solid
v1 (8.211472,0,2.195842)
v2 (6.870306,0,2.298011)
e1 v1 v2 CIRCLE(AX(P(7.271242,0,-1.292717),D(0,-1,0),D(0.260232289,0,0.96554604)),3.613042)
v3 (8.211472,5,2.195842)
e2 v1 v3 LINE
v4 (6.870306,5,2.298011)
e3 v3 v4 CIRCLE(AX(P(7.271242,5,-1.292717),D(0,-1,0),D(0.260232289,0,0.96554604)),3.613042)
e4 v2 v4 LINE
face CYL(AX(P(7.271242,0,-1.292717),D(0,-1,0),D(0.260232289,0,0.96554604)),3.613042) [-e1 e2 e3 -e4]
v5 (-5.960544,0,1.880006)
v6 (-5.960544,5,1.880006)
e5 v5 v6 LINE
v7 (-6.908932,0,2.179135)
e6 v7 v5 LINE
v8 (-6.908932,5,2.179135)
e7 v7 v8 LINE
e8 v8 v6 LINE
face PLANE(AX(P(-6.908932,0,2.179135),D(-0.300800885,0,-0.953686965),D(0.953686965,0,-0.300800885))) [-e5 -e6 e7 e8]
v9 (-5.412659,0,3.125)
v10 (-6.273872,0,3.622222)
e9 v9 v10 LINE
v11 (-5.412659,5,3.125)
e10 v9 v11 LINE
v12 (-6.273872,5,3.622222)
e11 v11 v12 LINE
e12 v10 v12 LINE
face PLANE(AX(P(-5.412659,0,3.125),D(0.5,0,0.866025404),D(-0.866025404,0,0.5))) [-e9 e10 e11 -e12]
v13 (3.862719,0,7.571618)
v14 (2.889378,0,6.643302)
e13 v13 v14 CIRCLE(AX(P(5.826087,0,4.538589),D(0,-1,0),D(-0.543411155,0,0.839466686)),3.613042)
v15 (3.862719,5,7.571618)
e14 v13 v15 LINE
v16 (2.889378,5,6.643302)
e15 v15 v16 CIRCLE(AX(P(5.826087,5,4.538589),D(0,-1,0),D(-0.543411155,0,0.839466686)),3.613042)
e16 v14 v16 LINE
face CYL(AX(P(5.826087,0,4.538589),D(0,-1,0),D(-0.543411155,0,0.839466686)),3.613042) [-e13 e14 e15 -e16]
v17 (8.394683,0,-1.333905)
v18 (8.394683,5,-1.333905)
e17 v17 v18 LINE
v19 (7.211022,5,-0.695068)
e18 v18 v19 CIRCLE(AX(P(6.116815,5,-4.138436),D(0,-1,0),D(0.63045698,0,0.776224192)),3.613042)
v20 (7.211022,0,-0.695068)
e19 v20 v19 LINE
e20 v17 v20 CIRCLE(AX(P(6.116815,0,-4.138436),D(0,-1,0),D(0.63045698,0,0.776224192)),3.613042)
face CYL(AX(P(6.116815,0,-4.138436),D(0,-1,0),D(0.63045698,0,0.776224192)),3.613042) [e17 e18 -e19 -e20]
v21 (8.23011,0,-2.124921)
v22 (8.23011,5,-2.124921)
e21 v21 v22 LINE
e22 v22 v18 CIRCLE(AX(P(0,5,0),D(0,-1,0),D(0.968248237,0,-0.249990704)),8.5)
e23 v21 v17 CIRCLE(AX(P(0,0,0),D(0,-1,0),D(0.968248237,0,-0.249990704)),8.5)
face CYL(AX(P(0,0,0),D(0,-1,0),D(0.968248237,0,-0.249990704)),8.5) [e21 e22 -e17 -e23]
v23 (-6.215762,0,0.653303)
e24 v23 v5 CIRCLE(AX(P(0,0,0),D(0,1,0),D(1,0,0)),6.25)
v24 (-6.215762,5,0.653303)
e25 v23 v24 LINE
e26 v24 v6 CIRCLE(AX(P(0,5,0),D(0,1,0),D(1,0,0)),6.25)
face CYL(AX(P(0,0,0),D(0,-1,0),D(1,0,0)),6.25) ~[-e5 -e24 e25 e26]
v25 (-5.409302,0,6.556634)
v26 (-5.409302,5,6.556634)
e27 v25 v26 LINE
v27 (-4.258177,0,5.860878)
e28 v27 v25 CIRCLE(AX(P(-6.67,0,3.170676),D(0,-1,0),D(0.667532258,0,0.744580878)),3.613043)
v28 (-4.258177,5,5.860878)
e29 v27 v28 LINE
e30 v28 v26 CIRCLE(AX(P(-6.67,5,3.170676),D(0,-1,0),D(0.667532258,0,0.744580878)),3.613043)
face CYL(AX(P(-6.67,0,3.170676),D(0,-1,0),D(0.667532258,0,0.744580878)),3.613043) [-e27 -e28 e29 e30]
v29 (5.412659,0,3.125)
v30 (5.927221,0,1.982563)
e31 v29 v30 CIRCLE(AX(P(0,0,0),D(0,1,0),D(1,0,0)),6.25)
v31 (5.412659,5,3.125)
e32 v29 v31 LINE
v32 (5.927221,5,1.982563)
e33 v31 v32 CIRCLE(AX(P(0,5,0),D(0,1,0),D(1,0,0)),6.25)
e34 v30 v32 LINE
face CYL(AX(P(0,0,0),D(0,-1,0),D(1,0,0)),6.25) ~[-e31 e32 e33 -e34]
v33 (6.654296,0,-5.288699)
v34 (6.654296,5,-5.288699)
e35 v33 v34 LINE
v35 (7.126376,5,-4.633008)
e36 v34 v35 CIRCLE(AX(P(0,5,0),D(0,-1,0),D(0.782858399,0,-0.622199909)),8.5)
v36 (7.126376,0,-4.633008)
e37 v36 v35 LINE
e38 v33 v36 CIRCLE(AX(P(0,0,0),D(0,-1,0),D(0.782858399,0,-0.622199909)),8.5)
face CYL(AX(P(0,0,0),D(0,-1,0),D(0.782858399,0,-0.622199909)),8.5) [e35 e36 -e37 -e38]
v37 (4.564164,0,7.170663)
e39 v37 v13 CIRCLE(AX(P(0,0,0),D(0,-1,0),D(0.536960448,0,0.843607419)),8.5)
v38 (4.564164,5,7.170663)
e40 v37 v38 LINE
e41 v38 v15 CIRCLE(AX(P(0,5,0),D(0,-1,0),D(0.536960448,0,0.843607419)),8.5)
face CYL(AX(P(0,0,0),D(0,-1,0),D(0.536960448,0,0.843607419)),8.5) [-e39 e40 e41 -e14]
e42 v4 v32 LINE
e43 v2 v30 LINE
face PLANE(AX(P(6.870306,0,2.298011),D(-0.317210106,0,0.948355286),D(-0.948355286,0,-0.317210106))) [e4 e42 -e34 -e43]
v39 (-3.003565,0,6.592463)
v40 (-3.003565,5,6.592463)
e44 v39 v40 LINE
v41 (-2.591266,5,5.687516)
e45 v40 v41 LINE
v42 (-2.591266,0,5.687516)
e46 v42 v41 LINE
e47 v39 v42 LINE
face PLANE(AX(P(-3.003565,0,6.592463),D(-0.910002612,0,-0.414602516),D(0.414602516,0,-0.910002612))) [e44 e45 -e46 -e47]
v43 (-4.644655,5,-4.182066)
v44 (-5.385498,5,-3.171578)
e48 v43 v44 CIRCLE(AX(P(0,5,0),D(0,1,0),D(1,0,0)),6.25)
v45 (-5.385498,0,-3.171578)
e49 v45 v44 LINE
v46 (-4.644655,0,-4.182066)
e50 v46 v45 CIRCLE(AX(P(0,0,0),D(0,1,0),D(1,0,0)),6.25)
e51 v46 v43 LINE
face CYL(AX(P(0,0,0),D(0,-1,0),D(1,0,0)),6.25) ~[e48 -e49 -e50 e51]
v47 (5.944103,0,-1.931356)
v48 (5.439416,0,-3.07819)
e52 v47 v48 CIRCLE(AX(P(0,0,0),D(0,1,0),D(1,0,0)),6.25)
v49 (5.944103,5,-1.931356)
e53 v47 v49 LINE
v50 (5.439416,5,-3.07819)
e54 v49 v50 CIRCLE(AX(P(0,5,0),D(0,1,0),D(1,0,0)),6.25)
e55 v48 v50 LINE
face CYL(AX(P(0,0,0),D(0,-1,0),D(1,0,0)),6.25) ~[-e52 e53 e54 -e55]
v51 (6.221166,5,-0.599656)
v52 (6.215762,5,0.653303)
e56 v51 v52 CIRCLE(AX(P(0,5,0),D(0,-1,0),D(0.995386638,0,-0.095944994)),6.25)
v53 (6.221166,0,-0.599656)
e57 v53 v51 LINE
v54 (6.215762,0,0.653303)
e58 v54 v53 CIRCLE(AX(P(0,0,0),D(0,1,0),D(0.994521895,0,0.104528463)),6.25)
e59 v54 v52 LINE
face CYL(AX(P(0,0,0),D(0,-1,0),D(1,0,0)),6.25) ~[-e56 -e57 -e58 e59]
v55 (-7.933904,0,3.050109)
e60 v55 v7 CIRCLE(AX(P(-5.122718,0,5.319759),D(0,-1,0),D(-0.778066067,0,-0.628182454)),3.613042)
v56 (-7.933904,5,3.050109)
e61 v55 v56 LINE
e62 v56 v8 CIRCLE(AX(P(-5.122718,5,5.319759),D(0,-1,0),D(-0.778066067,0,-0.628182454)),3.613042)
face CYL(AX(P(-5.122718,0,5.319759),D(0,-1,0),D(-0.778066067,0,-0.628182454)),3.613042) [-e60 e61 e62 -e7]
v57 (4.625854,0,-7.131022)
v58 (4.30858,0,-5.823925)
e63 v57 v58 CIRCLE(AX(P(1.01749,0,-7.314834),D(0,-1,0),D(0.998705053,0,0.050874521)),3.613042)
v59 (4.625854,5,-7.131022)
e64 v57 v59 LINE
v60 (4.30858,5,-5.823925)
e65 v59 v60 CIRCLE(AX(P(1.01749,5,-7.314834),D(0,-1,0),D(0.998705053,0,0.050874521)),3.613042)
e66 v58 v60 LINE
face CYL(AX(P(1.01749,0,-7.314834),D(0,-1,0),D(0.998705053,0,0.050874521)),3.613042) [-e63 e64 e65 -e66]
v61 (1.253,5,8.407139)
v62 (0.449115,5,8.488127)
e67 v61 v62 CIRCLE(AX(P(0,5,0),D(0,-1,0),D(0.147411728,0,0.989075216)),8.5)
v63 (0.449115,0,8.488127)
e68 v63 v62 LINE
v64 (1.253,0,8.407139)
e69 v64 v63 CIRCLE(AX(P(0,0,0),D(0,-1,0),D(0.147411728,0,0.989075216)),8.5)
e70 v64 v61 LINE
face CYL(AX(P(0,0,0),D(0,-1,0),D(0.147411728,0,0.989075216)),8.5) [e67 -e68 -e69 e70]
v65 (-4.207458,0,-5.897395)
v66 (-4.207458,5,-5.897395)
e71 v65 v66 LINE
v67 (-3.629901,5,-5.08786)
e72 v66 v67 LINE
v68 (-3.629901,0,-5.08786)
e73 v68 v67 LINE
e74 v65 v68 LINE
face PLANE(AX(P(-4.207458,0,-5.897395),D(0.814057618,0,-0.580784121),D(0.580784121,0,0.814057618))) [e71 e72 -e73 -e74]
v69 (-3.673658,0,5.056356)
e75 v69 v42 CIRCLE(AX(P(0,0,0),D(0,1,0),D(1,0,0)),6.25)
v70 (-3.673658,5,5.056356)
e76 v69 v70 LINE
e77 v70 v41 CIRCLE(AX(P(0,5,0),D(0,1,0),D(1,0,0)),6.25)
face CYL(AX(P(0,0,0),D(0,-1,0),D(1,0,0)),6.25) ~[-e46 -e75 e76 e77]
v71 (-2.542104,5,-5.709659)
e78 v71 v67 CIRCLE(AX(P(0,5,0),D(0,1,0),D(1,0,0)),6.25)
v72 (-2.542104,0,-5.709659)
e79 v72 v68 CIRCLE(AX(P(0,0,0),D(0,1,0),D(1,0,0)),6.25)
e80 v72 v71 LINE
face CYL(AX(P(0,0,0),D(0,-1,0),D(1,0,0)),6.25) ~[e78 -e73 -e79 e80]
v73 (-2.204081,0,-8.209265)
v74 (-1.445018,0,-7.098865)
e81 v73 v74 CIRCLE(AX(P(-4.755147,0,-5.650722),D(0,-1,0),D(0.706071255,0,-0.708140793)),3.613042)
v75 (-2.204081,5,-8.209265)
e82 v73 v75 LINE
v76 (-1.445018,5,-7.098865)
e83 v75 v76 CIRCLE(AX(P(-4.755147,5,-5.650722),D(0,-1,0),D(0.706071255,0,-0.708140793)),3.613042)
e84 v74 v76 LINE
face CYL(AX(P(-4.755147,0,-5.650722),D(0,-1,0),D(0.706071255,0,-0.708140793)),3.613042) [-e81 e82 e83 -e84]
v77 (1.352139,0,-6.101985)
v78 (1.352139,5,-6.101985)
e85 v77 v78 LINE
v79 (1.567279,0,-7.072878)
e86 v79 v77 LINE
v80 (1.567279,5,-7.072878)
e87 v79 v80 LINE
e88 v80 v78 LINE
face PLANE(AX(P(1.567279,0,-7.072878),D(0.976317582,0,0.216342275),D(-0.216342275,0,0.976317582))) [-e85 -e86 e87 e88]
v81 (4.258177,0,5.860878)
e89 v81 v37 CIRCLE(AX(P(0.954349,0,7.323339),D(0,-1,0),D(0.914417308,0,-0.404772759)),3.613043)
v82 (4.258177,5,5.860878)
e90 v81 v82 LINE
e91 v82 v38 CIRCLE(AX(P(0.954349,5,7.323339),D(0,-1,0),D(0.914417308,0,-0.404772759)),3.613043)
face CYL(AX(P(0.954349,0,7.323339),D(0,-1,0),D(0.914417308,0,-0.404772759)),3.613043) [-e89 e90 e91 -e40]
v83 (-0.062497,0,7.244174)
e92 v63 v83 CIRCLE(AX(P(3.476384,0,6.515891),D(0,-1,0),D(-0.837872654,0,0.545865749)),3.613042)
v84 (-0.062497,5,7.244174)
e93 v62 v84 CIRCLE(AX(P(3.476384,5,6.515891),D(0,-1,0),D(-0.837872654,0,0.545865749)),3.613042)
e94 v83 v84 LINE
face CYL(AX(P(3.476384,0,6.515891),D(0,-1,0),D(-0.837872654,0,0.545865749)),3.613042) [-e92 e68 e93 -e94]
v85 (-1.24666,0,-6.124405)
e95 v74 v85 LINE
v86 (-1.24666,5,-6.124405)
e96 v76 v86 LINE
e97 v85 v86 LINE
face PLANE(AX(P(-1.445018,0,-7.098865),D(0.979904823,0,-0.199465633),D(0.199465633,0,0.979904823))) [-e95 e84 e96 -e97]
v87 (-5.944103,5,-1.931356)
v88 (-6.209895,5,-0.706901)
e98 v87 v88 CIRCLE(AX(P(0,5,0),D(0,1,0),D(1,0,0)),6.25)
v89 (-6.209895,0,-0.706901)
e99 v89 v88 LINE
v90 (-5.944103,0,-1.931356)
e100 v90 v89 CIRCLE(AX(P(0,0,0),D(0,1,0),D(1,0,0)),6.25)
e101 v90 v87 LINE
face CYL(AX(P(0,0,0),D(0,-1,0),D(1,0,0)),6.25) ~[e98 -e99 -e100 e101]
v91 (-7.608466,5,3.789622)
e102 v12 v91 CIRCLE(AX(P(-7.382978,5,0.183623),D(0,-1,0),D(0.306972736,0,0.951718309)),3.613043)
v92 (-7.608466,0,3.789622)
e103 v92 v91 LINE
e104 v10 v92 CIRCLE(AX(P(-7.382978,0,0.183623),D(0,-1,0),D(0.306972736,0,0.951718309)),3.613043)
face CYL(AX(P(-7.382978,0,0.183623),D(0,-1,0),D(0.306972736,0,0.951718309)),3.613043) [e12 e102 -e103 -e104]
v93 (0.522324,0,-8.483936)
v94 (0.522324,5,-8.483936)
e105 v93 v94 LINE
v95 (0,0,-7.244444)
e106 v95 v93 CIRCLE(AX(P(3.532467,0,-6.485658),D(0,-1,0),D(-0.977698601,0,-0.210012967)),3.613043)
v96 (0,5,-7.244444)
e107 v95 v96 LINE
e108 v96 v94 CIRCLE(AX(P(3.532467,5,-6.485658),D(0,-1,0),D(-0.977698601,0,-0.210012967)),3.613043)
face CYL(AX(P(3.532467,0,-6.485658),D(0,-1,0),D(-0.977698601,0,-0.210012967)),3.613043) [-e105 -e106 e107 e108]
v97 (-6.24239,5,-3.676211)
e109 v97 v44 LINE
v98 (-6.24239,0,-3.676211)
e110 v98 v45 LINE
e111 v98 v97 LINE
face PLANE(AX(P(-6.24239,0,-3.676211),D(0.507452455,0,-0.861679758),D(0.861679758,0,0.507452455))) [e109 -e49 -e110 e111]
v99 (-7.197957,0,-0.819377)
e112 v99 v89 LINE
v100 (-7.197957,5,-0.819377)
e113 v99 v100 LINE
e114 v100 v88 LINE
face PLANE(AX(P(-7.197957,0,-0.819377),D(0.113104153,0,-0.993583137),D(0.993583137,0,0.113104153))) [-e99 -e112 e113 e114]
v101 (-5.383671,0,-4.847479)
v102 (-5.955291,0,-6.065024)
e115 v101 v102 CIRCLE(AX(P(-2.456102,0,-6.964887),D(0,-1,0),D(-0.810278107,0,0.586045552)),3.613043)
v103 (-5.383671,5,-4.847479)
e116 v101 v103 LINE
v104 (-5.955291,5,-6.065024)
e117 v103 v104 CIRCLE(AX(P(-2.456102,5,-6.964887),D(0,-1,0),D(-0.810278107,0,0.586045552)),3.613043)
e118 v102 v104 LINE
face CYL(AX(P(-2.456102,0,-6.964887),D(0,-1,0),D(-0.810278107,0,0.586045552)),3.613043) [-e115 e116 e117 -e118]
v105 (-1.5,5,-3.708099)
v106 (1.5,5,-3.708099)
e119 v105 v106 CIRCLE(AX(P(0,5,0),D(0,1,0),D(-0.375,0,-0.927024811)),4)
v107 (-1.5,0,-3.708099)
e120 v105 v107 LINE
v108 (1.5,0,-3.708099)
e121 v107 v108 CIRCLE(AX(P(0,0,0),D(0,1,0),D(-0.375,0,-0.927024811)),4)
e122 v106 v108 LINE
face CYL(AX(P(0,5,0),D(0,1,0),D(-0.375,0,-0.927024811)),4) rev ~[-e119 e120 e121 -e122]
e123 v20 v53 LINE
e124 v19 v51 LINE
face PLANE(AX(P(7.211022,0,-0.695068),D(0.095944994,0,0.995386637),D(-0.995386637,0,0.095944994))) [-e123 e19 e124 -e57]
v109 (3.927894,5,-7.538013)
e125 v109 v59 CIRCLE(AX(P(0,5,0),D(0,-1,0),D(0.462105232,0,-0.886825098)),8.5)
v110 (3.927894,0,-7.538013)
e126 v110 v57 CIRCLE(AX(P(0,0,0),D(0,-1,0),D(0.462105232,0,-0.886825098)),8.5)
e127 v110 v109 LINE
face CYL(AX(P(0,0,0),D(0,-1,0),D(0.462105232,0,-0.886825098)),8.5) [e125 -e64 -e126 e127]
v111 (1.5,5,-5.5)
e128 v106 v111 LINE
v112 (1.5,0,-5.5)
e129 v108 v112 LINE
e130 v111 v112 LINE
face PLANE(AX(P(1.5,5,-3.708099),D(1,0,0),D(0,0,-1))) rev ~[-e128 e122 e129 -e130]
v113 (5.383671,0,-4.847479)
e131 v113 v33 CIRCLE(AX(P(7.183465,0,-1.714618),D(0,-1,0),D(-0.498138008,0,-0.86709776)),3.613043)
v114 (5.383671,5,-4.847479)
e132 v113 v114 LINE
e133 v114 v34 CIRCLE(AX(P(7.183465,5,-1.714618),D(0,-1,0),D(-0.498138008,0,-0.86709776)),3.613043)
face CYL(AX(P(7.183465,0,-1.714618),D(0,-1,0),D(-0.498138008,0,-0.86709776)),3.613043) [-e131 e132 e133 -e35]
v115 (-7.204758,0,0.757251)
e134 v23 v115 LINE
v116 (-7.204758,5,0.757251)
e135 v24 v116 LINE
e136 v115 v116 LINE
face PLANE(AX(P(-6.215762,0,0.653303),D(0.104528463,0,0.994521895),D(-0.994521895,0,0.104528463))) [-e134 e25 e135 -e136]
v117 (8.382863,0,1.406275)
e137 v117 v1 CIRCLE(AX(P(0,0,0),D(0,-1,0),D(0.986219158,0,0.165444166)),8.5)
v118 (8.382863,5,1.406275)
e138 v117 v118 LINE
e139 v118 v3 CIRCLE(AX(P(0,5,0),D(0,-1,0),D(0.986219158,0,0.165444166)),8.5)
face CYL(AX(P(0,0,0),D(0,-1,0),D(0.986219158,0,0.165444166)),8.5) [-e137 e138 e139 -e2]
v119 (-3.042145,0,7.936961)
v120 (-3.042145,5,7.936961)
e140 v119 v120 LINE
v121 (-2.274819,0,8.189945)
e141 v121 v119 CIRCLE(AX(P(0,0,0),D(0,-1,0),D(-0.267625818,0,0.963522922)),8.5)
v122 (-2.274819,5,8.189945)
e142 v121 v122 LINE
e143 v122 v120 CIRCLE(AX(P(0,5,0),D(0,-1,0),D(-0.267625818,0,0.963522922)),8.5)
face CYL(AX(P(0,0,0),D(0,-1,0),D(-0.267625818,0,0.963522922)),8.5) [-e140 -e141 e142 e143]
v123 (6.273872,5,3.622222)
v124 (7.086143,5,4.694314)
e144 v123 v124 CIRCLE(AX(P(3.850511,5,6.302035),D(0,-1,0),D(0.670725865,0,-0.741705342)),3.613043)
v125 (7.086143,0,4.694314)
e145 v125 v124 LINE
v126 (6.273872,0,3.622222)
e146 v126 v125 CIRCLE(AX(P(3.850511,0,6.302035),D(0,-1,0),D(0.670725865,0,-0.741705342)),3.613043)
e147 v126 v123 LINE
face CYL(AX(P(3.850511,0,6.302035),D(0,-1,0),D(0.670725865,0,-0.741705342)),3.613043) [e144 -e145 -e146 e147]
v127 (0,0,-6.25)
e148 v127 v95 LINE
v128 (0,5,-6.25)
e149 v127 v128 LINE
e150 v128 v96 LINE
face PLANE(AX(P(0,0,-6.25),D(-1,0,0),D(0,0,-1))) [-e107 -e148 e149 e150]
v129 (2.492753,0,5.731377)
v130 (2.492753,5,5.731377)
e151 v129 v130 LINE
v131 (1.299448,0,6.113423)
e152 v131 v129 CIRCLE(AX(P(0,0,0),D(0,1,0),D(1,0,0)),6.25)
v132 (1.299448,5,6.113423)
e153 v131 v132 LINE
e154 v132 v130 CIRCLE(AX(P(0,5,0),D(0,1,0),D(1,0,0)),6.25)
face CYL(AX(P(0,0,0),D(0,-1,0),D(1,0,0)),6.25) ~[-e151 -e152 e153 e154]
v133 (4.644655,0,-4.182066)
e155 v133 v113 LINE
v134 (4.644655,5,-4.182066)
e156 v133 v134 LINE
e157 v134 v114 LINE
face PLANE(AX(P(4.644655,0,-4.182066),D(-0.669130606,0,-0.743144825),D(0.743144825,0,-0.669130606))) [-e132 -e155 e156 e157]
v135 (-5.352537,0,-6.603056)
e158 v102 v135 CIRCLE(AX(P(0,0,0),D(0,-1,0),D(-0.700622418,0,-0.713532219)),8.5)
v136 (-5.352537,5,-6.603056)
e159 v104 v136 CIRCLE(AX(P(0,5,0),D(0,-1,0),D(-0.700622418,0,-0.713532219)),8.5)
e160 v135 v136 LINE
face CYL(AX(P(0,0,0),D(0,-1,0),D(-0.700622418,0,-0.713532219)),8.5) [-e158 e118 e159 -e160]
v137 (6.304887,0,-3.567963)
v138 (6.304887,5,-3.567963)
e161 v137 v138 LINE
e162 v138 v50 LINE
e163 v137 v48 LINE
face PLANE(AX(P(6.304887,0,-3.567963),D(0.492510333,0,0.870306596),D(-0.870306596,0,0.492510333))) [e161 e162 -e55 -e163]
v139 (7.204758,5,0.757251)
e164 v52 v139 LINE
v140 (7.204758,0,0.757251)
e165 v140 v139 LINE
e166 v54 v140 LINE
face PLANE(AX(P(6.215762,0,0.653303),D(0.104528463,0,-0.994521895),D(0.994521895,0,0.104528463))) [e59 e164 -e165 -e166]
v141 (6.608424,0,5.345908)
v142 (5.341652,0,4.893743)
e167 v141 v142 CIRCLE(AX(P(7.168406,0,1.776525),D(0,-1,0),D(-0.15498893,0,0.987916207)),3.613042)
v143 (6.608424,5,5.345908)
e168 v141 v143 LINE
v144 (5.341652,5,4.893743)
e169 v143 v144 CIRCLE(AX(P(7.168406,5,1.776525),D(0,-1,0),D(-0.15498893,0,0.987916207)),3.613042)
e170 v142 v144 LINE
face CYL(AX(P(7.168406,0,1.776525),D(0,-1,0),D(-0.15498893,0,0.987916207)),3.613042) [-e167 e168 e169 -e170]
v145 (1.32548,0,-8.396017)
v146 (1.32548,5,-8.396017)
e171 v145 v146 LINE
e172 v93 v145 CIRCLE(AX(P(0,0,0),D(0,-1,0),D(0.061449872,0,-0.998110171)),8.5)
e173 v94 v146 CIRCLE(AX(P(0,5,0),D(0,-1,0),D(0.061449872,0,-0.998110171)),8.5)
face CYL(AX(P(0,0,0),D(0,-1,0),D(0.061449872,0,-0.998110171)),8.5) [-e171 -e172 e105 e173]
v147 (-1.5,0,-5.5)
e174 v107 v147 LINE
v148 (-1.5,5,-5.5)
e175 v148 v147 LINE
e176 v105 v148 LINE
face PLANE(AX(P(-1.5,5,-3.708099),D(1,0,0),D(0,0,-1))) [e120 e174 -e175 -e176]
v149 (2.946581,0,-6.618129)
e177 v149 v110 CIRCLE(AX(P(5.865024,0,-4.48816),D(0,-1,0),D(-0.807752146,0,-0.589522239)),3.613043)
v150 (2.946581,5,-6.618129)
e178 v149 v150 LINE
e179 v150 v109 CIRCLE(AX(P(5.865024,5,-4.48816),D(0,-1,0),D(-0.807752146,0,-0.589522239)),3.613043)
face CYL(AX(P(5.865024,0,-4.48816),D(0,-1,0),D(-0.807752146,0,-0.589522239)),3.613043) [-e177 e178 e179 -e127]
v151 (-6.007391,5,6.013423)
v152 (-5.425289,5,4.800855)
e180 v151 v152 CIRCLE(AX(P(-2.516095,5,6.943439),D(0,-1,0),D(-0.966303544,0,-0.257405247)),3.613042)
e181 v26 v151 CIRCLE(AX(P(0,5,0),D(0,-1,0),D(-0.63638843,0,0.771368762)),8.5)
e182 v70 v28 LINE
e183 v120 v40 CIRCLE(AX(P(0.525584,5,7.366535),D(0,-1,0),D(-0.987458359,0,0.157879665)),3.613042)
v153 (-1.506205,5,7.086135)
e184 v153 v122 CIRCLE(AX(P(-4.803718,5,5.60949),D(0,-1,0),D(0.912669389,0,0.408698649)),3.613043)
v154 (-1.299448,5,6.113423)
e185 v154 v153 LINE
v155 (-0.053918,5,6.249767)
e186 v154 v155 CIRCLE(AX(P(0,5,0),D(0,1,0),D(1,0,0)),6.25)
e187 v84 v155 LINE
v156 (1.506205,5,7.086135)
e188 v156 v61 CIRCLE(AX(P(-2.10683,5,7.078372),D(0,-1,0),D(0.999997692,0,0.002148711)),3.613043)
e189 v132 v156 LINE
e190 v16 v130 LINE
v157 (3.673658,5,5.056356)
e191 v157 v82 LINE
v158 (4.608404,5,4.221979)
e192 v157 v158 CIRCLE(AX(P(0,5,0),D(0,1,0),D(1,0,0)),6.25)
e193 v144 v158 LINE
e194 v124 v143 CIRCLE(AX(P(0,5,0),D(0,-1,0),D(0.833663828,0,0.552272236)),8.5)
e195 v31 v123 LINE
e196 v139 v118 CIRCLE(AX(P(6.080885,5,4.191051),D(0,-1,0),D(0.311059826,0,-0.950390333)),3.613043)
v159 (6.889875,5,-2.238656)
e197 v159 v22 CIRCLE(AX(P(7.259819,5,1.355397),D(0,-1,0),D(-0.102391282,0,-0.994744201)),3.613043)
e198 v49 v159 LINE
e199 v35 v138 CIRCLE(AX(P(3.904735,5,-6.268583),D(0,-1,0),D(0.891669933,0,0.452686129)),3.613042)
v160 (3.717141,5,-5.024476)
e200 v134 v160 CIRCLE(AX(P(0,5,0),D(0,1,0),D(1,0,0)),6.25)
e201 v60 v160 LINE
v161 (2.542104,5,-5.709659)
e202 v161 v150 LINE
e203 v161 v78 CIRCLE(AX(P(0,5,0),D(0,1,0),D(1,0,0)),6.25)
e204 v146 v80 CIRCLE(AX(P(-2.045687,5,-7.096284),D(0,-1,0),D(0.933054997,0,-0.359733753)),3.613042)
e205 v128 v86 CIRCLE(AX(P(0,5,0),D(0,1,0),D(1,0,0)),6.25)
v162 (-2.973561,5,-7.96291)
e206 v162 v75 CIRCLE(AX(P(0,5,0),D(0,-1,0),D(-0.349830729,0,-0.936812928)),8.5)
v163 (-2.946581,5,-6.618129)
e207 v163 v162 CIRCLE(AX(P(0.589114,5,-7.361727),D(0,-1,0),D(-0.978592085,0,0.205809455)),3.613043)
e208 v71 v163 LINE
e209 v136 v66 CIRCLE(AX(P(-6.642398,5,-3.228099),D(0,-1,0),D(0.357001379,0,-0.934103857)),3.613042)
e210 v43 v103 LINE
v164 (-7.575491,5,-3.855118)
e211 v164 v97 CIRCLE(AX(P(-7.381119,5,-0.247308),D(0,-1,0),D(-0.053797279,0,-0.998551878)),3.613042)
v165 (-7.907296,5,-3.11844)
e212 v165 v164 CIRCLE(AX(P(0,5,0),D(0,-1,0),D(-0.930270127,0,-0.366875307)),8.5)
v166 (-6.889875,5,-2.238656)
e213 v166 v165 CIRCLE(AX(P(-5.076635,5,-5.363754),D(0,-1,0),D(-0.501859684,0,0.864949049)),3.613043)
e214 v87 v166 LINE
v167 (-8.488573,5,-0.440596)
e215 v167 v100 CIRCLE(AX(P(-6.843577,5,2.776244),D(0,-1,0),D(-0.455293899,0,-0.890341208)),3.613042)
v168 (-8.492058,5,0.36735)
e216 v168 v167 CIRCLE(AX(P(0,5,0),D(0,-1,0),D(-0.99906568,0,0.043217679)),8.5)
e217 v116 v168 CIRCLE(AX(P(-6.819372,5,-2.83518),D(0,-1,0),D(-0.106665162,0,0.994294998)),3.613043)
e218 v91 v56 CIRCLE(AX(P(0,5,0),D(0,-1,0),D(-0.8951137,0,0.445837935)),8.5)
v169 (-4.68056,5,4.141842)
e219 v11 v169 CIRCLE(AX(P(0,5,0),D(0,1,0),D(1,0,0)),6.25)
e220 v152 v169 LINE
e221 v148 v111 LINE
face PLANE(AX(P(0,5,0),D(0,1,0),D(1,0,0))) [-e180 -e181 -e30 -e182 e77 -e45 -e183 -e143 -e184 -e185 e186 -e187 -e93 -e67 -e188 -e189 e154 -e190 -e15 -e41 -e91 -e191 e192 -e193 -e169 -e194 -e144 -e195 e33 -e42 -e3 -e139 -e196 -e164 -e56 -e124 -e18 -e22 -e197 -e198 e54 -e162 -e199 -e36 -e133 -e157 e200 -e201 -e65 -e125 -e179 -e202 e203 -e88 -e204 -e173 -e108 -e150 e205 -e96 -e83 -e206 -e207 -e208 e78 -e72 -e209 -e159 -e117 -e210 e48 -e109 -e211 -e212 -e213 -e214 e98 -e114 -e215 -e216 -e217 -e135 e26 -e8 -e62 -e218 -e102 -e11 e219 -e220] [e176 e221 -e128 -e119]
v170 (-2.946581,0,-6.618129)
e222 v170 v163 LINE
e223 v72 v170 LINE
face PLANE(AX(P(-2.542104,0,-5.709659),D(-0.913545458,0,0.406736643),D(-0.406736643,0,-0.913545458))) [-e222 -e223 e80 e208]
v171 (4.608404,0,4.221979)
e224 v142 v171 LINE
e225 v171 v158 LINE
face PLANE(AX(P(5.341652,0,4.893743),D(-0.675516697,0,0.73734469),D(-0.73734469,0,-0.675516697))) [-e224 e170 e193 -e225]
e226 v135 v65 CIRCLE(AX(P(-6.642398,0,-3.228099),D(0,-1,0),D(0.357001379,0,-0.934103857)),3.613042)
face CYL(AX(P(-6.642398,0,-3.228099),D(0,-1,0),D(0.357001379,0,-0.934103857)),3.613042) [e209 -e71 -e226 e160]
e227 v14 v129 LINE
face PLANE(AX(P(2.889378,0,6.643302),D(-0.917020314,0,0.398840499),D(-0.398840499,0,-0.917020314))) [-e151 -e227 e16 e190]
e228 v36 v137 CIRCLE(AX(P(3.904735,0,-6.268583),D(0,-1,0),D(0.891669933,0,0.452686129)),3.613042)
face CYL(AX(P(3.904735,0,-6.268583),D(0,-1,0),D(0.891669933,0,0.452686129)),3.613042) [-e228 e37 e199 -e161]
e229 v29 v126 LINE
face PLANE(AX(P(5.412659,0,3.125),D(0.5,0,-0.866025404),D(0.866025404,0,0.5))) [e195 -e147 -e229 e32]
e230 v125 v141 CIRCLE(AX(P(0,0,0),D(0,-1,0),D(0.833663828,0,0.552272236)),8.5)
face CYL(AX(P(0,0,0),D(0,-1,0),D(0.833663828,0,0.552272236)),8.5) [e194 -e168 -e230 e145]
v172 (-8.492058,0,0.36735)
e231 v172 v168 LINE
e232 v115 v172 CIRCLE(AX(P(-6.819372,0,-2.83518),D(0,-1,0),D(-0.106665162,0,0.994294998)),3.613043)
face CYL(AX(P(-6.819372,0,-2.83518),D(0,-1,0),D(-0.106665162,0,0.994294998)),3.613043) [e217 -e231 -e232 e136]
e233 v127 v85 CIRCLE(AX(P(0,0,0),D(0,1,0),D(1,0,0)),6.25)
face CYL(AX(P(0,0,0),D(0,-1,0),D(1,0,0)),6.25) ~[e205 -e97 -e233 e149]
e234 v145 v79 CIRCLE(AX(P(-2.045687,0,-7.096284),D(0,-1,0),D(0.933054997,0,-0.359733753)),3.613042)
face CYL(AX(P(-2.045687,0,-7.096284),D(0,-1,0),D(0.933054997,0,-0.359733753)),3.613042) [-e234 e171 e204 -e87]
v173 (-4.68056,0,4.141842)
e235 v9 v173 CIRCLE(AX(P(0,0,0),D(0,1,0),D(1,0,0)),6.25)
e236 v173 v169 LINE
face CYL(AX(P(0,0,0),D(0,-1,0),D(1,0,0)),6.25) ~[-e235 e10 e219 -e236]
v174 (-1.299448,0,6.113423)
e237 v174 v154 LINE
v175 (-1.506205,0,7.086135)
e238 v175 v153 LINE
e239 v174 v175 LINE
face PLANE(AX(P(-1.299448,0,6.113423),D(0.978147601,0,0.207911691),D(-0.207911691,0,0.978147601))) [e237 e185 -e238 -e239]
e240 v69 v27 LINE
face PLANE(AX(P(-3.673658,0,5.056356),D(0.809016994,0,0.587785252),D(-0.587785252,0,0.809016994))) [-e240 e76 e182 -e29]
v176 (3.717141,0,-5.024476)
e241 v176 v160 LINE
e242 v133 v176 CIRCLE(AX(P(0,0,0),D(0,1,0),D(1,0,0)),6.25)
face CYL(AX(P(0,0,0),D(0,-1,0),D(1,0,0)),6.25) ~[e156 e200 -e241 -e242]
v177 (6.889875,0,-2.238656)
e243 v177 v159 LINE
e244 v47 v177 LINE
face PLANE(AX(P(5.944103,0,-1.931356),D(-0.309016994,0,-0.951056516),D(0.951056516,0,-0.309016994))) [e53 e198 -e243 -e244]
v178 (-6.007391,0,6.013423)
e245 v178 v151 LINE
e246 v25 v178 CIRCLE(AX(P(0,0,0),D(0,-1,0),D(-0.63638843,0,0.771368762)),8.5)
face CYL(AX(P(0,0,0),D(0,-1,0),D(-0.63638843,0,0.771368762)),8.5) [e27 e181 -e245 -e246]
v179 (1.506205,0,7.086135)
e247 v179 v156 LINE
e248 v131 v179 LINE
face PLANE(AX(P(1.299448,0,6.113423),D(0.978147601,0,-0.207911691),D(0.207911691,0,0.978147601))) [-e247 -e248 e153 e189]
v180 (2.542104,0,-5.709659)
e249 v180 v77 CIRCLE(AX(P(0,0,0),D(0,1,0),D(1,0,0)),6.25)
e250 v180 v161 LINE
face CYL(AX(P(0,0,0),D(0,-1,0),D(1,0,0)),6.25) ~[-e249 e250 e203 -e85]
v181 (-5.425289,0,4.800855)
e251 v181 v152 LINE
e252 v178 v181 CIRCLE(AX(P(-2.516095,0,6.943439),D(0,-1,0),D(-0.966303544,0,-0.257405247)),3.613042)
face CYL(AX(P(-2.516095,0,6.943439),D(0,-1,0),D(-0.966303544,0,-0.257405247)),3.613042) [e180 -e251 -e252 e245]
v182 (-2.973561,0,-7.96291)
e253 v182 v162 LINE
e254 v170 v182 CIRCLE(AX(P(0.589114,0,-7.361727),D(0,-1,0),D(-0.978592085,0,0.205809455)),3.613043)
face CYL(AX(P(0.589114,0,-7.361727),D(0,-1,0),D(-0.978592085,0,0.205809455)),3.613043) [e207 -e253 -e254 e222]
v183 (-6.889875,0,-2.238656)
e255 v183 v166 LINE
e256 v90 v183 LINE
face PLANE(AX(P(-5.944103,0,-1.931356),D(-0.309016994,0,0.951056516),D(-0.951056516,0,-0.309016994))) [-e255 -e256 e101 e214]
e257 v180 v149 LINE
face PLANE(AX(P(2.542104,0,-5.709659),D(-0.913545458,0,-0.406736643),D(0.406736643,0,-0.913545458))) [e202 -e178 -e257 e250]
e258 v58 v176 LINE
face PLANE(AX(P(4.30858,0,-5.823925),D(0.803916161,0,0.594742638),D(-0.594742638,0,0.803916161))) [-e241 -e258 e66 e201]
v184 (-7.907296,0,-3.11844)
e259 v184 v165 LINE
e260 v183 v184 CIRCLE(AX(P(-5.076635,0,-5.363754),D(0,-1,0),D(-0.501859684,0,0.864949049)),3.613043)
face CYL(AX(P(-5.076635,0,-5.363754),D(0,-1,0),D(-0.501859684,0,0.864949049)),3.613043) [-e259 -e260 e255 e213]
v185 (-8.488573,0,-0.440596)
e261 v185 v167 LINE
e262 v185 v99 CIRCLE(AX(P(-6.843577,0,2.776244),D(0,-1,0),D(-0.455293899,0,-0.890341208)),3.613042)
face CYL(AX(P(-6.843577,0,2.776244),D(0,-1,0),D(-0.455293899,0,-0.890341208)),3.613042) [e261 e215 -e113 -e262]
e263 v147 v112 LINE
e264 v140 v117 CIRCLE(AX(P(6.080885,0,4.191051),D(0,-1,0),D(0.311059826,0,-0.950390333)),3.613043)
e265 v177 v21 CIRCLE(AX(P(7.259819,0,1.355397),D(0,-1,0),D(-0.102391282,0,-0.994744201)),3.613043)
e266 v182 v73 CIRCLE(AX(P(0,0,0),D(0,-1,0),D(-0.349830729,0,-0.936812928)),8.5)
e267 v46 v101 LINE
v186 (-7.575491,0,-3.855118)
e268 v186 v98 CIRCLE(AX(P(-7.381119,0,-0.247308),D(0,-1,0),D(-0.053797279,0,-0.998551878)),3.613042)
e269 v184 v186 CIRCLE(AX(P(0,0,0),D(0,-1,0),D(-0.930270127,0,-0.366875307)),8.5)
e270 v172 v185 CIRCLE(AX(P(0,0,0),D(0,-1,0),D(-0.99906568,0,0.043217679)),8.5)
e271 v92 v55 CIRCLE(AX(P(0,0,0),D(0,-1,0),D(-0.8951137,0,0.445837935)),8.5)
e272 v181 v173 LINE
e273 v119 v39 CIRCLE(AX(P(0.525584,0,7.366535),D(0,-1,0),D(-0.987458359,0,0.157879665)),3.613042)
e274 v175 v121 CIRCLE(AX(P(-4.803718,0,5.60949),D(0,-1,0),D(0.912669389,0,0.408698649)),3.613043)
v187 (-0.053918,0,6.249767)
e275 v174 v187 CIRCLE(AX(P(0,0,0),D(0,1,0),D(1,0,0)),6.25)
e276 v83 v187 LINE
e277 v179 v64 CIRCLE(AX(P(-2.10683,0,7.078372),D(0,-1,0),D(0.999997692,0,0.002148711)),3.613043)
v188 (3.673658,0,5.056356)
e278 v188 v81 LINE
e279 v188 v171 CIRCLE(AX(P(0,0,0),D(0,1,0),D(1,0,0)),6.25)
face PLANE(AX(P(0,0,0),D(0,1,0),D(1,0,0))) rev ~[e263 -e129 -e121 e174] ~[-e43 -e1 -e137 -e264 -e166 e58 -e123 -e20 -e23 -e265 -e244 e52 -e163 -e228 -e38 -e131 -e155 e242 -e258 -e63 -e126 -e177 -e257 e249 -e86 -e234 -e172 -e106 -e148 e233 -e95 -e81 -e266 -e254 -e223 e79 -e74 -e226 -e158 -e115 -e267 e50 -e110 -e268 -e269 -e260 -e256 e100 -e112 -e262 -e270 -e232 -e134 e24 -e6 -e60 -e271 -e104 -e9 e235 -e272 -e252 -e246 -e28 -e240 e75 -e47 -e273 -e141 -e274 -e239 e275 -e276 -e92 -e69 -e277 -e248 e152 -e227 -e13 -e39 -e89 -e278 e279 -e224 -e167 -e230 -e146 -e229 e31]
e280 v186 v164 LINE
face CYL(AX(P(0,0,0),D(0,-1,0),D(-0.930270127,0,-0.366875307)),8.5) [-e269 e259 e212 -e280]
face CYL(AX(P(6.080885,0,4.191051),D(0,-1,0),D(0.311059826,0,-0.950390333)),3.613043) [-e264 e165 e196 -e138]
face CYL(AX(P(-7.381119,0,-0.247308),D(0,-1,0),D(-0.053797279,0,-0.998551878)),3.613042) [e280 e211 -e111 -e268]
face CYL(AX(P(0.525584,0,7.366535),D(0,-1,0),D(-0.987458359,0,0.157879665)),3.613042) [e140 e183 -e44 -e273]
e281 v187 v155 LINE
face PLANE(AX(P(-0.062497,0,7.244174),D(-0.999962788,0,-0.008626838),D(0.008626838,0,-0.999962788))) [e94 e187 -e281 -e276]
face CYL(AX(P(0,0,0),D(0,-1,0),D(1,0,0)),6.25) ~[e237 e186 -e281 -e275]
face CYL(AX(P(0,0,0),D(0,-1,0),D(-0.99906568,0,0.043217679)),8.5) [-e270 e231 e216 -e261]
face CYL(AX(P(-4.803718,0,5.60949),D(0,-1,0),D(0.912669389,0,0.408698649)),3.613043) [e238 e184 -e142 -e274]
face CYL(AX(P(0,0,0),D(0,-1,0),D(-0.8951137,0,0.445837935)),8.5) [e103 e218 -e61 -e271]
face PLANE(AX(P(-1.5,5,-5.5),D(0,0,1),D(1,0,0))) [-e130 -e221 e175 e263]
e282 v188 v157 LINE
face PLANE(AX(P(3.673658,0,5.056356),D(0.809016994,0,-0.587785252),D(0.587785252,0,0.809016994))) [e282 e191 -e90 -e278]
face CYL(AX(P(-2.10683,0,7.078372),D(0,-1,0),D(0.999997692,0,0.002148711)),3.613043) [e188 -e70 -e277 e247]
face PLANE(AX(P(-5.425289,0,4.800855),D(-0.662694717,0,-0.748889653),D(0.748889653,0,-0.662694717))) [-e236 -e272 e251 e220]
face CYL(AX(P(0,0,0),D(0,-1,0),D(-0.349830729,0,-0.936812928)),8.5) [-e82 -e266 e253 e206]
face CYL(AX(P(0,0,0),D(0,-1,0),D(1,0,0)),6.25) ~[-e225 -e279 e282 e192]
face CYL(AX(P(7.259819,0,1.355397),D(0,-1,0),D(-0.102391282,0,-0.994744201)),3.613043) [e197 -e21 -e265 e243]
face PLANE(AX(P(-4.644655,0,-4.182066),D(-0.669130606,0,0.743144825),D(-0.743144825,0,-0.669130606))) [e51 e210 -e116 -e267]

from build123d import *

# Parameters (mm, degrees)
BOSS_EXTRUDE1_DEPTH = 5
CIRPATTERN4_COUNT   = 15
SKETCH6_R           = 6.25
BOSS_EXTRUDE2_DEPTH = 5
SKETCH7_R           = 4
SKETCH7_W           = 3
SKETCH7_H           = 3
CUT_EXTRUDE1_DEPTH  = 14.011467857


with BuildPart() as part:
    # Sketch3 → Boss-Extrude1 (new body)
    with BuildSketch(Plane(origin=(0, 0, 0), x_dir=(1, 0, 0), z_dir=(0, 1, 0))):
        with BuildLine():
            Line((1.567279433, 7.07287775), (1.352139221, 6.101984884))
            ThreePointArc((1.352139221, 6.101984884), (0.680108254, 6.212886025), (0, 6.25))
            Line((0, 6.25), (0, 7.244443697))
            ThreePointArc((0, 7.244443697), (0.202974195, 7.888710473), (0.522323902, 8.483936453))
            ThreePointArc((0.522323902, 8.483936453), (0.924947225, 8.449524994), (1.325480107, 8.396017061))
            ThreePointArc((1.325480107, 8.396017061), (1.508494299, 7.745798629), (1.567279433, 7.07287775))
        make_face()
    extrude(amount=BOSS_EXTRUDE1_DEPTH)


with BuildPart() as cirpattern4_1:
    # CirPattern4: pattern copy
    add(part.part.rotate(Axis((0, 0, 0), (0, 1, 0)), 1 * 360 / CIRPATTERN4_COUNT))


with BuildPart() as cirpattern4_2:
    # CirPattern4: pattern copy
    add(part.part.rotate(Axis((0, 0, 0), (0, 1, 0)), 2 * 360 / CIRPATTERN4_COUNT))


with BuildPart() as cirpattern4_3:
    # CirPattern4: pattern copy
    add(part.part.rotate(Axis((0, 0, 0), (0, 1, 0)), 3 * 360 / CIRPATTERN4_COUNT))


with BuildPart() as cirpattern4_4:
    # CirPattern4: pattern copy
    add(part.part.rotate(Axis((0, 0, 0), (0, 1, 0)), 4 * 360 / CIRPATTERN4_COUNT))


with BuildPart() as cirpattern4_5:
    # CirPattern4: pattern copy
    add(part.part.rotate(Axis((0, 0, 0), (0, 1, 0)), 5 * 360 / CIRPATTERN4_COUNT))


with BuildPart() as cirpattern4_6:
    # CirPattern4: pattern copy
    add(part.part.rotate(Axis((0, 0, 0), (0, 1, 0)), 6 * 360 / CIRPATTERN4_COUNT))


with BuildPart() as cirpattern4_7:
    # CirPattern4: pattern copy
    add(part.part.rotate(Axis((0, 0, 0), (0, 1, 0)), 7 * 360 / CIRPATTERN4_COUNT))


with BuildPart() as cirpattern4_8:
    # CirPattern4: pattern copy
    add(part.part.rotate(Axis((0, 0, 0), (0, 1, 0)), 8 * 360 / CIRPATTERN4_COUNT))


with BuildPart() as cirpattern4_9:
    # CirPattern4: pattern copy
    add(part.part.rotate(Axis((0, 0, 0), (0, 1, 0)), 9 * 360 / CIRPATTERN4_COUNT))


with BuildPart() as cirpattern4_10:
    # CirPattern4: pattern copy
    add(part.part.rotate(Axis((0, 0, 0), (0, 1, 0)), 10 * 360 / CIRPATTERN4_COUNT))


with BuildPart() as cirpattern4_11:
    # CirPattern4: pattern copy
    add(part.part.rotate(Axis((0, 0, 0), (0, 1, 0)), 11 * 360 / CIRPATTERN4_COUNT))


with BuildPart() as cirpattern4_12:
    # CirPattern4: pattern copy
    add(part.part.rotate(Axis((0, 0, 0), (0, 1, 0)), 12 * 360 / CIRPATTERN4_COUNT))


with BuildPart() as cirpattern4_13:
    # CirPattern4: pattern copy
    add(part.part.rotate(Axis((0, 0, 0), (0, 1, 0)), 13 * 360 / CIRPATTERN4_COUNT))


with BuildPart() as cirpattern4_14:
    # CirPattern4: pattern copy
    add(part.part.rotate(Axis((0, 0, 0), (0, 1, 0)), 14 * 360 / CIRPATTERN4_COUNT))


with BuildPart() as part_1:
    add(part.part)

    add(cirpattern4_1.part)  # Boss-Extrude2 merges CirPattern4_1

    add(cirpattern4_2.part)  # Boss-Extrude2 merges CirPattern4_2

    add(cirpattern4_3.part)  # Boss-Extrude2 merges CirPattern4_3

    add(cirpattern4_4.part)  # Boss-Extrude2 merges CirPattern4_4

    add(cirpattern4_5.part)  # Boss-Extrude2 merges CirPattern4_5

    add(cirpattern4_6.part)  # Boss-Extrude2 merges CirPattern4_6

    add(cirpattern4_7.part)  # Boss-Extrude2 merges CirPattern4_7

    add(cirpattern4_8.part)  # Boss-Extrude2 merges CirPattern4_8

    add(cirpattern4_9.part)  # Boss-Extrude2 merges CirPattern4_9

    add(cirpattern4_10.part)  # Boss-Extrude2 merges CirPattern4_10

    add(cirpattern4_11.part)  # Boss-Extrude2 merges CirPattern4_11

    add(cirpattern4_12.part)  # Boss-Extrude2 merges CirPattern4_12

    add(cirpattern4_13.part)  # Boss-Extrude2 merges CirPattern4_13

    add(cirpattern4_14.part)  # Boss-Extrude2 merges CirPattern4_14
    # Sketch6 → Boss-Extrude2 (add)
    with BuildSketch(Plane(origin=(0, 0, 0), x_dir=(1, 0, 0), z_dir=(0, 1, 0))):
        Circle(SKETCH6_R)
    extrude(amount=BOSS_EXTRUDE2_DEPTH)

    # Sketch7 → Cut-Extrude1 (cut, through all)
    with BuildSketch(Plane(origin=(0, 5, 0), x_dir=(1, 0, 0), z_dir=(0, 1, 0))):
        Circle(SKETCH7_R)
        with Locations((0, 4)):
            Rectangle(SKETCH7_W, SKETCH7_H)
    extrude(amount=-CUT_EXTRUDE1_DEPTH, mode=Mode.SUBTRACT)


solid = part_1.part
